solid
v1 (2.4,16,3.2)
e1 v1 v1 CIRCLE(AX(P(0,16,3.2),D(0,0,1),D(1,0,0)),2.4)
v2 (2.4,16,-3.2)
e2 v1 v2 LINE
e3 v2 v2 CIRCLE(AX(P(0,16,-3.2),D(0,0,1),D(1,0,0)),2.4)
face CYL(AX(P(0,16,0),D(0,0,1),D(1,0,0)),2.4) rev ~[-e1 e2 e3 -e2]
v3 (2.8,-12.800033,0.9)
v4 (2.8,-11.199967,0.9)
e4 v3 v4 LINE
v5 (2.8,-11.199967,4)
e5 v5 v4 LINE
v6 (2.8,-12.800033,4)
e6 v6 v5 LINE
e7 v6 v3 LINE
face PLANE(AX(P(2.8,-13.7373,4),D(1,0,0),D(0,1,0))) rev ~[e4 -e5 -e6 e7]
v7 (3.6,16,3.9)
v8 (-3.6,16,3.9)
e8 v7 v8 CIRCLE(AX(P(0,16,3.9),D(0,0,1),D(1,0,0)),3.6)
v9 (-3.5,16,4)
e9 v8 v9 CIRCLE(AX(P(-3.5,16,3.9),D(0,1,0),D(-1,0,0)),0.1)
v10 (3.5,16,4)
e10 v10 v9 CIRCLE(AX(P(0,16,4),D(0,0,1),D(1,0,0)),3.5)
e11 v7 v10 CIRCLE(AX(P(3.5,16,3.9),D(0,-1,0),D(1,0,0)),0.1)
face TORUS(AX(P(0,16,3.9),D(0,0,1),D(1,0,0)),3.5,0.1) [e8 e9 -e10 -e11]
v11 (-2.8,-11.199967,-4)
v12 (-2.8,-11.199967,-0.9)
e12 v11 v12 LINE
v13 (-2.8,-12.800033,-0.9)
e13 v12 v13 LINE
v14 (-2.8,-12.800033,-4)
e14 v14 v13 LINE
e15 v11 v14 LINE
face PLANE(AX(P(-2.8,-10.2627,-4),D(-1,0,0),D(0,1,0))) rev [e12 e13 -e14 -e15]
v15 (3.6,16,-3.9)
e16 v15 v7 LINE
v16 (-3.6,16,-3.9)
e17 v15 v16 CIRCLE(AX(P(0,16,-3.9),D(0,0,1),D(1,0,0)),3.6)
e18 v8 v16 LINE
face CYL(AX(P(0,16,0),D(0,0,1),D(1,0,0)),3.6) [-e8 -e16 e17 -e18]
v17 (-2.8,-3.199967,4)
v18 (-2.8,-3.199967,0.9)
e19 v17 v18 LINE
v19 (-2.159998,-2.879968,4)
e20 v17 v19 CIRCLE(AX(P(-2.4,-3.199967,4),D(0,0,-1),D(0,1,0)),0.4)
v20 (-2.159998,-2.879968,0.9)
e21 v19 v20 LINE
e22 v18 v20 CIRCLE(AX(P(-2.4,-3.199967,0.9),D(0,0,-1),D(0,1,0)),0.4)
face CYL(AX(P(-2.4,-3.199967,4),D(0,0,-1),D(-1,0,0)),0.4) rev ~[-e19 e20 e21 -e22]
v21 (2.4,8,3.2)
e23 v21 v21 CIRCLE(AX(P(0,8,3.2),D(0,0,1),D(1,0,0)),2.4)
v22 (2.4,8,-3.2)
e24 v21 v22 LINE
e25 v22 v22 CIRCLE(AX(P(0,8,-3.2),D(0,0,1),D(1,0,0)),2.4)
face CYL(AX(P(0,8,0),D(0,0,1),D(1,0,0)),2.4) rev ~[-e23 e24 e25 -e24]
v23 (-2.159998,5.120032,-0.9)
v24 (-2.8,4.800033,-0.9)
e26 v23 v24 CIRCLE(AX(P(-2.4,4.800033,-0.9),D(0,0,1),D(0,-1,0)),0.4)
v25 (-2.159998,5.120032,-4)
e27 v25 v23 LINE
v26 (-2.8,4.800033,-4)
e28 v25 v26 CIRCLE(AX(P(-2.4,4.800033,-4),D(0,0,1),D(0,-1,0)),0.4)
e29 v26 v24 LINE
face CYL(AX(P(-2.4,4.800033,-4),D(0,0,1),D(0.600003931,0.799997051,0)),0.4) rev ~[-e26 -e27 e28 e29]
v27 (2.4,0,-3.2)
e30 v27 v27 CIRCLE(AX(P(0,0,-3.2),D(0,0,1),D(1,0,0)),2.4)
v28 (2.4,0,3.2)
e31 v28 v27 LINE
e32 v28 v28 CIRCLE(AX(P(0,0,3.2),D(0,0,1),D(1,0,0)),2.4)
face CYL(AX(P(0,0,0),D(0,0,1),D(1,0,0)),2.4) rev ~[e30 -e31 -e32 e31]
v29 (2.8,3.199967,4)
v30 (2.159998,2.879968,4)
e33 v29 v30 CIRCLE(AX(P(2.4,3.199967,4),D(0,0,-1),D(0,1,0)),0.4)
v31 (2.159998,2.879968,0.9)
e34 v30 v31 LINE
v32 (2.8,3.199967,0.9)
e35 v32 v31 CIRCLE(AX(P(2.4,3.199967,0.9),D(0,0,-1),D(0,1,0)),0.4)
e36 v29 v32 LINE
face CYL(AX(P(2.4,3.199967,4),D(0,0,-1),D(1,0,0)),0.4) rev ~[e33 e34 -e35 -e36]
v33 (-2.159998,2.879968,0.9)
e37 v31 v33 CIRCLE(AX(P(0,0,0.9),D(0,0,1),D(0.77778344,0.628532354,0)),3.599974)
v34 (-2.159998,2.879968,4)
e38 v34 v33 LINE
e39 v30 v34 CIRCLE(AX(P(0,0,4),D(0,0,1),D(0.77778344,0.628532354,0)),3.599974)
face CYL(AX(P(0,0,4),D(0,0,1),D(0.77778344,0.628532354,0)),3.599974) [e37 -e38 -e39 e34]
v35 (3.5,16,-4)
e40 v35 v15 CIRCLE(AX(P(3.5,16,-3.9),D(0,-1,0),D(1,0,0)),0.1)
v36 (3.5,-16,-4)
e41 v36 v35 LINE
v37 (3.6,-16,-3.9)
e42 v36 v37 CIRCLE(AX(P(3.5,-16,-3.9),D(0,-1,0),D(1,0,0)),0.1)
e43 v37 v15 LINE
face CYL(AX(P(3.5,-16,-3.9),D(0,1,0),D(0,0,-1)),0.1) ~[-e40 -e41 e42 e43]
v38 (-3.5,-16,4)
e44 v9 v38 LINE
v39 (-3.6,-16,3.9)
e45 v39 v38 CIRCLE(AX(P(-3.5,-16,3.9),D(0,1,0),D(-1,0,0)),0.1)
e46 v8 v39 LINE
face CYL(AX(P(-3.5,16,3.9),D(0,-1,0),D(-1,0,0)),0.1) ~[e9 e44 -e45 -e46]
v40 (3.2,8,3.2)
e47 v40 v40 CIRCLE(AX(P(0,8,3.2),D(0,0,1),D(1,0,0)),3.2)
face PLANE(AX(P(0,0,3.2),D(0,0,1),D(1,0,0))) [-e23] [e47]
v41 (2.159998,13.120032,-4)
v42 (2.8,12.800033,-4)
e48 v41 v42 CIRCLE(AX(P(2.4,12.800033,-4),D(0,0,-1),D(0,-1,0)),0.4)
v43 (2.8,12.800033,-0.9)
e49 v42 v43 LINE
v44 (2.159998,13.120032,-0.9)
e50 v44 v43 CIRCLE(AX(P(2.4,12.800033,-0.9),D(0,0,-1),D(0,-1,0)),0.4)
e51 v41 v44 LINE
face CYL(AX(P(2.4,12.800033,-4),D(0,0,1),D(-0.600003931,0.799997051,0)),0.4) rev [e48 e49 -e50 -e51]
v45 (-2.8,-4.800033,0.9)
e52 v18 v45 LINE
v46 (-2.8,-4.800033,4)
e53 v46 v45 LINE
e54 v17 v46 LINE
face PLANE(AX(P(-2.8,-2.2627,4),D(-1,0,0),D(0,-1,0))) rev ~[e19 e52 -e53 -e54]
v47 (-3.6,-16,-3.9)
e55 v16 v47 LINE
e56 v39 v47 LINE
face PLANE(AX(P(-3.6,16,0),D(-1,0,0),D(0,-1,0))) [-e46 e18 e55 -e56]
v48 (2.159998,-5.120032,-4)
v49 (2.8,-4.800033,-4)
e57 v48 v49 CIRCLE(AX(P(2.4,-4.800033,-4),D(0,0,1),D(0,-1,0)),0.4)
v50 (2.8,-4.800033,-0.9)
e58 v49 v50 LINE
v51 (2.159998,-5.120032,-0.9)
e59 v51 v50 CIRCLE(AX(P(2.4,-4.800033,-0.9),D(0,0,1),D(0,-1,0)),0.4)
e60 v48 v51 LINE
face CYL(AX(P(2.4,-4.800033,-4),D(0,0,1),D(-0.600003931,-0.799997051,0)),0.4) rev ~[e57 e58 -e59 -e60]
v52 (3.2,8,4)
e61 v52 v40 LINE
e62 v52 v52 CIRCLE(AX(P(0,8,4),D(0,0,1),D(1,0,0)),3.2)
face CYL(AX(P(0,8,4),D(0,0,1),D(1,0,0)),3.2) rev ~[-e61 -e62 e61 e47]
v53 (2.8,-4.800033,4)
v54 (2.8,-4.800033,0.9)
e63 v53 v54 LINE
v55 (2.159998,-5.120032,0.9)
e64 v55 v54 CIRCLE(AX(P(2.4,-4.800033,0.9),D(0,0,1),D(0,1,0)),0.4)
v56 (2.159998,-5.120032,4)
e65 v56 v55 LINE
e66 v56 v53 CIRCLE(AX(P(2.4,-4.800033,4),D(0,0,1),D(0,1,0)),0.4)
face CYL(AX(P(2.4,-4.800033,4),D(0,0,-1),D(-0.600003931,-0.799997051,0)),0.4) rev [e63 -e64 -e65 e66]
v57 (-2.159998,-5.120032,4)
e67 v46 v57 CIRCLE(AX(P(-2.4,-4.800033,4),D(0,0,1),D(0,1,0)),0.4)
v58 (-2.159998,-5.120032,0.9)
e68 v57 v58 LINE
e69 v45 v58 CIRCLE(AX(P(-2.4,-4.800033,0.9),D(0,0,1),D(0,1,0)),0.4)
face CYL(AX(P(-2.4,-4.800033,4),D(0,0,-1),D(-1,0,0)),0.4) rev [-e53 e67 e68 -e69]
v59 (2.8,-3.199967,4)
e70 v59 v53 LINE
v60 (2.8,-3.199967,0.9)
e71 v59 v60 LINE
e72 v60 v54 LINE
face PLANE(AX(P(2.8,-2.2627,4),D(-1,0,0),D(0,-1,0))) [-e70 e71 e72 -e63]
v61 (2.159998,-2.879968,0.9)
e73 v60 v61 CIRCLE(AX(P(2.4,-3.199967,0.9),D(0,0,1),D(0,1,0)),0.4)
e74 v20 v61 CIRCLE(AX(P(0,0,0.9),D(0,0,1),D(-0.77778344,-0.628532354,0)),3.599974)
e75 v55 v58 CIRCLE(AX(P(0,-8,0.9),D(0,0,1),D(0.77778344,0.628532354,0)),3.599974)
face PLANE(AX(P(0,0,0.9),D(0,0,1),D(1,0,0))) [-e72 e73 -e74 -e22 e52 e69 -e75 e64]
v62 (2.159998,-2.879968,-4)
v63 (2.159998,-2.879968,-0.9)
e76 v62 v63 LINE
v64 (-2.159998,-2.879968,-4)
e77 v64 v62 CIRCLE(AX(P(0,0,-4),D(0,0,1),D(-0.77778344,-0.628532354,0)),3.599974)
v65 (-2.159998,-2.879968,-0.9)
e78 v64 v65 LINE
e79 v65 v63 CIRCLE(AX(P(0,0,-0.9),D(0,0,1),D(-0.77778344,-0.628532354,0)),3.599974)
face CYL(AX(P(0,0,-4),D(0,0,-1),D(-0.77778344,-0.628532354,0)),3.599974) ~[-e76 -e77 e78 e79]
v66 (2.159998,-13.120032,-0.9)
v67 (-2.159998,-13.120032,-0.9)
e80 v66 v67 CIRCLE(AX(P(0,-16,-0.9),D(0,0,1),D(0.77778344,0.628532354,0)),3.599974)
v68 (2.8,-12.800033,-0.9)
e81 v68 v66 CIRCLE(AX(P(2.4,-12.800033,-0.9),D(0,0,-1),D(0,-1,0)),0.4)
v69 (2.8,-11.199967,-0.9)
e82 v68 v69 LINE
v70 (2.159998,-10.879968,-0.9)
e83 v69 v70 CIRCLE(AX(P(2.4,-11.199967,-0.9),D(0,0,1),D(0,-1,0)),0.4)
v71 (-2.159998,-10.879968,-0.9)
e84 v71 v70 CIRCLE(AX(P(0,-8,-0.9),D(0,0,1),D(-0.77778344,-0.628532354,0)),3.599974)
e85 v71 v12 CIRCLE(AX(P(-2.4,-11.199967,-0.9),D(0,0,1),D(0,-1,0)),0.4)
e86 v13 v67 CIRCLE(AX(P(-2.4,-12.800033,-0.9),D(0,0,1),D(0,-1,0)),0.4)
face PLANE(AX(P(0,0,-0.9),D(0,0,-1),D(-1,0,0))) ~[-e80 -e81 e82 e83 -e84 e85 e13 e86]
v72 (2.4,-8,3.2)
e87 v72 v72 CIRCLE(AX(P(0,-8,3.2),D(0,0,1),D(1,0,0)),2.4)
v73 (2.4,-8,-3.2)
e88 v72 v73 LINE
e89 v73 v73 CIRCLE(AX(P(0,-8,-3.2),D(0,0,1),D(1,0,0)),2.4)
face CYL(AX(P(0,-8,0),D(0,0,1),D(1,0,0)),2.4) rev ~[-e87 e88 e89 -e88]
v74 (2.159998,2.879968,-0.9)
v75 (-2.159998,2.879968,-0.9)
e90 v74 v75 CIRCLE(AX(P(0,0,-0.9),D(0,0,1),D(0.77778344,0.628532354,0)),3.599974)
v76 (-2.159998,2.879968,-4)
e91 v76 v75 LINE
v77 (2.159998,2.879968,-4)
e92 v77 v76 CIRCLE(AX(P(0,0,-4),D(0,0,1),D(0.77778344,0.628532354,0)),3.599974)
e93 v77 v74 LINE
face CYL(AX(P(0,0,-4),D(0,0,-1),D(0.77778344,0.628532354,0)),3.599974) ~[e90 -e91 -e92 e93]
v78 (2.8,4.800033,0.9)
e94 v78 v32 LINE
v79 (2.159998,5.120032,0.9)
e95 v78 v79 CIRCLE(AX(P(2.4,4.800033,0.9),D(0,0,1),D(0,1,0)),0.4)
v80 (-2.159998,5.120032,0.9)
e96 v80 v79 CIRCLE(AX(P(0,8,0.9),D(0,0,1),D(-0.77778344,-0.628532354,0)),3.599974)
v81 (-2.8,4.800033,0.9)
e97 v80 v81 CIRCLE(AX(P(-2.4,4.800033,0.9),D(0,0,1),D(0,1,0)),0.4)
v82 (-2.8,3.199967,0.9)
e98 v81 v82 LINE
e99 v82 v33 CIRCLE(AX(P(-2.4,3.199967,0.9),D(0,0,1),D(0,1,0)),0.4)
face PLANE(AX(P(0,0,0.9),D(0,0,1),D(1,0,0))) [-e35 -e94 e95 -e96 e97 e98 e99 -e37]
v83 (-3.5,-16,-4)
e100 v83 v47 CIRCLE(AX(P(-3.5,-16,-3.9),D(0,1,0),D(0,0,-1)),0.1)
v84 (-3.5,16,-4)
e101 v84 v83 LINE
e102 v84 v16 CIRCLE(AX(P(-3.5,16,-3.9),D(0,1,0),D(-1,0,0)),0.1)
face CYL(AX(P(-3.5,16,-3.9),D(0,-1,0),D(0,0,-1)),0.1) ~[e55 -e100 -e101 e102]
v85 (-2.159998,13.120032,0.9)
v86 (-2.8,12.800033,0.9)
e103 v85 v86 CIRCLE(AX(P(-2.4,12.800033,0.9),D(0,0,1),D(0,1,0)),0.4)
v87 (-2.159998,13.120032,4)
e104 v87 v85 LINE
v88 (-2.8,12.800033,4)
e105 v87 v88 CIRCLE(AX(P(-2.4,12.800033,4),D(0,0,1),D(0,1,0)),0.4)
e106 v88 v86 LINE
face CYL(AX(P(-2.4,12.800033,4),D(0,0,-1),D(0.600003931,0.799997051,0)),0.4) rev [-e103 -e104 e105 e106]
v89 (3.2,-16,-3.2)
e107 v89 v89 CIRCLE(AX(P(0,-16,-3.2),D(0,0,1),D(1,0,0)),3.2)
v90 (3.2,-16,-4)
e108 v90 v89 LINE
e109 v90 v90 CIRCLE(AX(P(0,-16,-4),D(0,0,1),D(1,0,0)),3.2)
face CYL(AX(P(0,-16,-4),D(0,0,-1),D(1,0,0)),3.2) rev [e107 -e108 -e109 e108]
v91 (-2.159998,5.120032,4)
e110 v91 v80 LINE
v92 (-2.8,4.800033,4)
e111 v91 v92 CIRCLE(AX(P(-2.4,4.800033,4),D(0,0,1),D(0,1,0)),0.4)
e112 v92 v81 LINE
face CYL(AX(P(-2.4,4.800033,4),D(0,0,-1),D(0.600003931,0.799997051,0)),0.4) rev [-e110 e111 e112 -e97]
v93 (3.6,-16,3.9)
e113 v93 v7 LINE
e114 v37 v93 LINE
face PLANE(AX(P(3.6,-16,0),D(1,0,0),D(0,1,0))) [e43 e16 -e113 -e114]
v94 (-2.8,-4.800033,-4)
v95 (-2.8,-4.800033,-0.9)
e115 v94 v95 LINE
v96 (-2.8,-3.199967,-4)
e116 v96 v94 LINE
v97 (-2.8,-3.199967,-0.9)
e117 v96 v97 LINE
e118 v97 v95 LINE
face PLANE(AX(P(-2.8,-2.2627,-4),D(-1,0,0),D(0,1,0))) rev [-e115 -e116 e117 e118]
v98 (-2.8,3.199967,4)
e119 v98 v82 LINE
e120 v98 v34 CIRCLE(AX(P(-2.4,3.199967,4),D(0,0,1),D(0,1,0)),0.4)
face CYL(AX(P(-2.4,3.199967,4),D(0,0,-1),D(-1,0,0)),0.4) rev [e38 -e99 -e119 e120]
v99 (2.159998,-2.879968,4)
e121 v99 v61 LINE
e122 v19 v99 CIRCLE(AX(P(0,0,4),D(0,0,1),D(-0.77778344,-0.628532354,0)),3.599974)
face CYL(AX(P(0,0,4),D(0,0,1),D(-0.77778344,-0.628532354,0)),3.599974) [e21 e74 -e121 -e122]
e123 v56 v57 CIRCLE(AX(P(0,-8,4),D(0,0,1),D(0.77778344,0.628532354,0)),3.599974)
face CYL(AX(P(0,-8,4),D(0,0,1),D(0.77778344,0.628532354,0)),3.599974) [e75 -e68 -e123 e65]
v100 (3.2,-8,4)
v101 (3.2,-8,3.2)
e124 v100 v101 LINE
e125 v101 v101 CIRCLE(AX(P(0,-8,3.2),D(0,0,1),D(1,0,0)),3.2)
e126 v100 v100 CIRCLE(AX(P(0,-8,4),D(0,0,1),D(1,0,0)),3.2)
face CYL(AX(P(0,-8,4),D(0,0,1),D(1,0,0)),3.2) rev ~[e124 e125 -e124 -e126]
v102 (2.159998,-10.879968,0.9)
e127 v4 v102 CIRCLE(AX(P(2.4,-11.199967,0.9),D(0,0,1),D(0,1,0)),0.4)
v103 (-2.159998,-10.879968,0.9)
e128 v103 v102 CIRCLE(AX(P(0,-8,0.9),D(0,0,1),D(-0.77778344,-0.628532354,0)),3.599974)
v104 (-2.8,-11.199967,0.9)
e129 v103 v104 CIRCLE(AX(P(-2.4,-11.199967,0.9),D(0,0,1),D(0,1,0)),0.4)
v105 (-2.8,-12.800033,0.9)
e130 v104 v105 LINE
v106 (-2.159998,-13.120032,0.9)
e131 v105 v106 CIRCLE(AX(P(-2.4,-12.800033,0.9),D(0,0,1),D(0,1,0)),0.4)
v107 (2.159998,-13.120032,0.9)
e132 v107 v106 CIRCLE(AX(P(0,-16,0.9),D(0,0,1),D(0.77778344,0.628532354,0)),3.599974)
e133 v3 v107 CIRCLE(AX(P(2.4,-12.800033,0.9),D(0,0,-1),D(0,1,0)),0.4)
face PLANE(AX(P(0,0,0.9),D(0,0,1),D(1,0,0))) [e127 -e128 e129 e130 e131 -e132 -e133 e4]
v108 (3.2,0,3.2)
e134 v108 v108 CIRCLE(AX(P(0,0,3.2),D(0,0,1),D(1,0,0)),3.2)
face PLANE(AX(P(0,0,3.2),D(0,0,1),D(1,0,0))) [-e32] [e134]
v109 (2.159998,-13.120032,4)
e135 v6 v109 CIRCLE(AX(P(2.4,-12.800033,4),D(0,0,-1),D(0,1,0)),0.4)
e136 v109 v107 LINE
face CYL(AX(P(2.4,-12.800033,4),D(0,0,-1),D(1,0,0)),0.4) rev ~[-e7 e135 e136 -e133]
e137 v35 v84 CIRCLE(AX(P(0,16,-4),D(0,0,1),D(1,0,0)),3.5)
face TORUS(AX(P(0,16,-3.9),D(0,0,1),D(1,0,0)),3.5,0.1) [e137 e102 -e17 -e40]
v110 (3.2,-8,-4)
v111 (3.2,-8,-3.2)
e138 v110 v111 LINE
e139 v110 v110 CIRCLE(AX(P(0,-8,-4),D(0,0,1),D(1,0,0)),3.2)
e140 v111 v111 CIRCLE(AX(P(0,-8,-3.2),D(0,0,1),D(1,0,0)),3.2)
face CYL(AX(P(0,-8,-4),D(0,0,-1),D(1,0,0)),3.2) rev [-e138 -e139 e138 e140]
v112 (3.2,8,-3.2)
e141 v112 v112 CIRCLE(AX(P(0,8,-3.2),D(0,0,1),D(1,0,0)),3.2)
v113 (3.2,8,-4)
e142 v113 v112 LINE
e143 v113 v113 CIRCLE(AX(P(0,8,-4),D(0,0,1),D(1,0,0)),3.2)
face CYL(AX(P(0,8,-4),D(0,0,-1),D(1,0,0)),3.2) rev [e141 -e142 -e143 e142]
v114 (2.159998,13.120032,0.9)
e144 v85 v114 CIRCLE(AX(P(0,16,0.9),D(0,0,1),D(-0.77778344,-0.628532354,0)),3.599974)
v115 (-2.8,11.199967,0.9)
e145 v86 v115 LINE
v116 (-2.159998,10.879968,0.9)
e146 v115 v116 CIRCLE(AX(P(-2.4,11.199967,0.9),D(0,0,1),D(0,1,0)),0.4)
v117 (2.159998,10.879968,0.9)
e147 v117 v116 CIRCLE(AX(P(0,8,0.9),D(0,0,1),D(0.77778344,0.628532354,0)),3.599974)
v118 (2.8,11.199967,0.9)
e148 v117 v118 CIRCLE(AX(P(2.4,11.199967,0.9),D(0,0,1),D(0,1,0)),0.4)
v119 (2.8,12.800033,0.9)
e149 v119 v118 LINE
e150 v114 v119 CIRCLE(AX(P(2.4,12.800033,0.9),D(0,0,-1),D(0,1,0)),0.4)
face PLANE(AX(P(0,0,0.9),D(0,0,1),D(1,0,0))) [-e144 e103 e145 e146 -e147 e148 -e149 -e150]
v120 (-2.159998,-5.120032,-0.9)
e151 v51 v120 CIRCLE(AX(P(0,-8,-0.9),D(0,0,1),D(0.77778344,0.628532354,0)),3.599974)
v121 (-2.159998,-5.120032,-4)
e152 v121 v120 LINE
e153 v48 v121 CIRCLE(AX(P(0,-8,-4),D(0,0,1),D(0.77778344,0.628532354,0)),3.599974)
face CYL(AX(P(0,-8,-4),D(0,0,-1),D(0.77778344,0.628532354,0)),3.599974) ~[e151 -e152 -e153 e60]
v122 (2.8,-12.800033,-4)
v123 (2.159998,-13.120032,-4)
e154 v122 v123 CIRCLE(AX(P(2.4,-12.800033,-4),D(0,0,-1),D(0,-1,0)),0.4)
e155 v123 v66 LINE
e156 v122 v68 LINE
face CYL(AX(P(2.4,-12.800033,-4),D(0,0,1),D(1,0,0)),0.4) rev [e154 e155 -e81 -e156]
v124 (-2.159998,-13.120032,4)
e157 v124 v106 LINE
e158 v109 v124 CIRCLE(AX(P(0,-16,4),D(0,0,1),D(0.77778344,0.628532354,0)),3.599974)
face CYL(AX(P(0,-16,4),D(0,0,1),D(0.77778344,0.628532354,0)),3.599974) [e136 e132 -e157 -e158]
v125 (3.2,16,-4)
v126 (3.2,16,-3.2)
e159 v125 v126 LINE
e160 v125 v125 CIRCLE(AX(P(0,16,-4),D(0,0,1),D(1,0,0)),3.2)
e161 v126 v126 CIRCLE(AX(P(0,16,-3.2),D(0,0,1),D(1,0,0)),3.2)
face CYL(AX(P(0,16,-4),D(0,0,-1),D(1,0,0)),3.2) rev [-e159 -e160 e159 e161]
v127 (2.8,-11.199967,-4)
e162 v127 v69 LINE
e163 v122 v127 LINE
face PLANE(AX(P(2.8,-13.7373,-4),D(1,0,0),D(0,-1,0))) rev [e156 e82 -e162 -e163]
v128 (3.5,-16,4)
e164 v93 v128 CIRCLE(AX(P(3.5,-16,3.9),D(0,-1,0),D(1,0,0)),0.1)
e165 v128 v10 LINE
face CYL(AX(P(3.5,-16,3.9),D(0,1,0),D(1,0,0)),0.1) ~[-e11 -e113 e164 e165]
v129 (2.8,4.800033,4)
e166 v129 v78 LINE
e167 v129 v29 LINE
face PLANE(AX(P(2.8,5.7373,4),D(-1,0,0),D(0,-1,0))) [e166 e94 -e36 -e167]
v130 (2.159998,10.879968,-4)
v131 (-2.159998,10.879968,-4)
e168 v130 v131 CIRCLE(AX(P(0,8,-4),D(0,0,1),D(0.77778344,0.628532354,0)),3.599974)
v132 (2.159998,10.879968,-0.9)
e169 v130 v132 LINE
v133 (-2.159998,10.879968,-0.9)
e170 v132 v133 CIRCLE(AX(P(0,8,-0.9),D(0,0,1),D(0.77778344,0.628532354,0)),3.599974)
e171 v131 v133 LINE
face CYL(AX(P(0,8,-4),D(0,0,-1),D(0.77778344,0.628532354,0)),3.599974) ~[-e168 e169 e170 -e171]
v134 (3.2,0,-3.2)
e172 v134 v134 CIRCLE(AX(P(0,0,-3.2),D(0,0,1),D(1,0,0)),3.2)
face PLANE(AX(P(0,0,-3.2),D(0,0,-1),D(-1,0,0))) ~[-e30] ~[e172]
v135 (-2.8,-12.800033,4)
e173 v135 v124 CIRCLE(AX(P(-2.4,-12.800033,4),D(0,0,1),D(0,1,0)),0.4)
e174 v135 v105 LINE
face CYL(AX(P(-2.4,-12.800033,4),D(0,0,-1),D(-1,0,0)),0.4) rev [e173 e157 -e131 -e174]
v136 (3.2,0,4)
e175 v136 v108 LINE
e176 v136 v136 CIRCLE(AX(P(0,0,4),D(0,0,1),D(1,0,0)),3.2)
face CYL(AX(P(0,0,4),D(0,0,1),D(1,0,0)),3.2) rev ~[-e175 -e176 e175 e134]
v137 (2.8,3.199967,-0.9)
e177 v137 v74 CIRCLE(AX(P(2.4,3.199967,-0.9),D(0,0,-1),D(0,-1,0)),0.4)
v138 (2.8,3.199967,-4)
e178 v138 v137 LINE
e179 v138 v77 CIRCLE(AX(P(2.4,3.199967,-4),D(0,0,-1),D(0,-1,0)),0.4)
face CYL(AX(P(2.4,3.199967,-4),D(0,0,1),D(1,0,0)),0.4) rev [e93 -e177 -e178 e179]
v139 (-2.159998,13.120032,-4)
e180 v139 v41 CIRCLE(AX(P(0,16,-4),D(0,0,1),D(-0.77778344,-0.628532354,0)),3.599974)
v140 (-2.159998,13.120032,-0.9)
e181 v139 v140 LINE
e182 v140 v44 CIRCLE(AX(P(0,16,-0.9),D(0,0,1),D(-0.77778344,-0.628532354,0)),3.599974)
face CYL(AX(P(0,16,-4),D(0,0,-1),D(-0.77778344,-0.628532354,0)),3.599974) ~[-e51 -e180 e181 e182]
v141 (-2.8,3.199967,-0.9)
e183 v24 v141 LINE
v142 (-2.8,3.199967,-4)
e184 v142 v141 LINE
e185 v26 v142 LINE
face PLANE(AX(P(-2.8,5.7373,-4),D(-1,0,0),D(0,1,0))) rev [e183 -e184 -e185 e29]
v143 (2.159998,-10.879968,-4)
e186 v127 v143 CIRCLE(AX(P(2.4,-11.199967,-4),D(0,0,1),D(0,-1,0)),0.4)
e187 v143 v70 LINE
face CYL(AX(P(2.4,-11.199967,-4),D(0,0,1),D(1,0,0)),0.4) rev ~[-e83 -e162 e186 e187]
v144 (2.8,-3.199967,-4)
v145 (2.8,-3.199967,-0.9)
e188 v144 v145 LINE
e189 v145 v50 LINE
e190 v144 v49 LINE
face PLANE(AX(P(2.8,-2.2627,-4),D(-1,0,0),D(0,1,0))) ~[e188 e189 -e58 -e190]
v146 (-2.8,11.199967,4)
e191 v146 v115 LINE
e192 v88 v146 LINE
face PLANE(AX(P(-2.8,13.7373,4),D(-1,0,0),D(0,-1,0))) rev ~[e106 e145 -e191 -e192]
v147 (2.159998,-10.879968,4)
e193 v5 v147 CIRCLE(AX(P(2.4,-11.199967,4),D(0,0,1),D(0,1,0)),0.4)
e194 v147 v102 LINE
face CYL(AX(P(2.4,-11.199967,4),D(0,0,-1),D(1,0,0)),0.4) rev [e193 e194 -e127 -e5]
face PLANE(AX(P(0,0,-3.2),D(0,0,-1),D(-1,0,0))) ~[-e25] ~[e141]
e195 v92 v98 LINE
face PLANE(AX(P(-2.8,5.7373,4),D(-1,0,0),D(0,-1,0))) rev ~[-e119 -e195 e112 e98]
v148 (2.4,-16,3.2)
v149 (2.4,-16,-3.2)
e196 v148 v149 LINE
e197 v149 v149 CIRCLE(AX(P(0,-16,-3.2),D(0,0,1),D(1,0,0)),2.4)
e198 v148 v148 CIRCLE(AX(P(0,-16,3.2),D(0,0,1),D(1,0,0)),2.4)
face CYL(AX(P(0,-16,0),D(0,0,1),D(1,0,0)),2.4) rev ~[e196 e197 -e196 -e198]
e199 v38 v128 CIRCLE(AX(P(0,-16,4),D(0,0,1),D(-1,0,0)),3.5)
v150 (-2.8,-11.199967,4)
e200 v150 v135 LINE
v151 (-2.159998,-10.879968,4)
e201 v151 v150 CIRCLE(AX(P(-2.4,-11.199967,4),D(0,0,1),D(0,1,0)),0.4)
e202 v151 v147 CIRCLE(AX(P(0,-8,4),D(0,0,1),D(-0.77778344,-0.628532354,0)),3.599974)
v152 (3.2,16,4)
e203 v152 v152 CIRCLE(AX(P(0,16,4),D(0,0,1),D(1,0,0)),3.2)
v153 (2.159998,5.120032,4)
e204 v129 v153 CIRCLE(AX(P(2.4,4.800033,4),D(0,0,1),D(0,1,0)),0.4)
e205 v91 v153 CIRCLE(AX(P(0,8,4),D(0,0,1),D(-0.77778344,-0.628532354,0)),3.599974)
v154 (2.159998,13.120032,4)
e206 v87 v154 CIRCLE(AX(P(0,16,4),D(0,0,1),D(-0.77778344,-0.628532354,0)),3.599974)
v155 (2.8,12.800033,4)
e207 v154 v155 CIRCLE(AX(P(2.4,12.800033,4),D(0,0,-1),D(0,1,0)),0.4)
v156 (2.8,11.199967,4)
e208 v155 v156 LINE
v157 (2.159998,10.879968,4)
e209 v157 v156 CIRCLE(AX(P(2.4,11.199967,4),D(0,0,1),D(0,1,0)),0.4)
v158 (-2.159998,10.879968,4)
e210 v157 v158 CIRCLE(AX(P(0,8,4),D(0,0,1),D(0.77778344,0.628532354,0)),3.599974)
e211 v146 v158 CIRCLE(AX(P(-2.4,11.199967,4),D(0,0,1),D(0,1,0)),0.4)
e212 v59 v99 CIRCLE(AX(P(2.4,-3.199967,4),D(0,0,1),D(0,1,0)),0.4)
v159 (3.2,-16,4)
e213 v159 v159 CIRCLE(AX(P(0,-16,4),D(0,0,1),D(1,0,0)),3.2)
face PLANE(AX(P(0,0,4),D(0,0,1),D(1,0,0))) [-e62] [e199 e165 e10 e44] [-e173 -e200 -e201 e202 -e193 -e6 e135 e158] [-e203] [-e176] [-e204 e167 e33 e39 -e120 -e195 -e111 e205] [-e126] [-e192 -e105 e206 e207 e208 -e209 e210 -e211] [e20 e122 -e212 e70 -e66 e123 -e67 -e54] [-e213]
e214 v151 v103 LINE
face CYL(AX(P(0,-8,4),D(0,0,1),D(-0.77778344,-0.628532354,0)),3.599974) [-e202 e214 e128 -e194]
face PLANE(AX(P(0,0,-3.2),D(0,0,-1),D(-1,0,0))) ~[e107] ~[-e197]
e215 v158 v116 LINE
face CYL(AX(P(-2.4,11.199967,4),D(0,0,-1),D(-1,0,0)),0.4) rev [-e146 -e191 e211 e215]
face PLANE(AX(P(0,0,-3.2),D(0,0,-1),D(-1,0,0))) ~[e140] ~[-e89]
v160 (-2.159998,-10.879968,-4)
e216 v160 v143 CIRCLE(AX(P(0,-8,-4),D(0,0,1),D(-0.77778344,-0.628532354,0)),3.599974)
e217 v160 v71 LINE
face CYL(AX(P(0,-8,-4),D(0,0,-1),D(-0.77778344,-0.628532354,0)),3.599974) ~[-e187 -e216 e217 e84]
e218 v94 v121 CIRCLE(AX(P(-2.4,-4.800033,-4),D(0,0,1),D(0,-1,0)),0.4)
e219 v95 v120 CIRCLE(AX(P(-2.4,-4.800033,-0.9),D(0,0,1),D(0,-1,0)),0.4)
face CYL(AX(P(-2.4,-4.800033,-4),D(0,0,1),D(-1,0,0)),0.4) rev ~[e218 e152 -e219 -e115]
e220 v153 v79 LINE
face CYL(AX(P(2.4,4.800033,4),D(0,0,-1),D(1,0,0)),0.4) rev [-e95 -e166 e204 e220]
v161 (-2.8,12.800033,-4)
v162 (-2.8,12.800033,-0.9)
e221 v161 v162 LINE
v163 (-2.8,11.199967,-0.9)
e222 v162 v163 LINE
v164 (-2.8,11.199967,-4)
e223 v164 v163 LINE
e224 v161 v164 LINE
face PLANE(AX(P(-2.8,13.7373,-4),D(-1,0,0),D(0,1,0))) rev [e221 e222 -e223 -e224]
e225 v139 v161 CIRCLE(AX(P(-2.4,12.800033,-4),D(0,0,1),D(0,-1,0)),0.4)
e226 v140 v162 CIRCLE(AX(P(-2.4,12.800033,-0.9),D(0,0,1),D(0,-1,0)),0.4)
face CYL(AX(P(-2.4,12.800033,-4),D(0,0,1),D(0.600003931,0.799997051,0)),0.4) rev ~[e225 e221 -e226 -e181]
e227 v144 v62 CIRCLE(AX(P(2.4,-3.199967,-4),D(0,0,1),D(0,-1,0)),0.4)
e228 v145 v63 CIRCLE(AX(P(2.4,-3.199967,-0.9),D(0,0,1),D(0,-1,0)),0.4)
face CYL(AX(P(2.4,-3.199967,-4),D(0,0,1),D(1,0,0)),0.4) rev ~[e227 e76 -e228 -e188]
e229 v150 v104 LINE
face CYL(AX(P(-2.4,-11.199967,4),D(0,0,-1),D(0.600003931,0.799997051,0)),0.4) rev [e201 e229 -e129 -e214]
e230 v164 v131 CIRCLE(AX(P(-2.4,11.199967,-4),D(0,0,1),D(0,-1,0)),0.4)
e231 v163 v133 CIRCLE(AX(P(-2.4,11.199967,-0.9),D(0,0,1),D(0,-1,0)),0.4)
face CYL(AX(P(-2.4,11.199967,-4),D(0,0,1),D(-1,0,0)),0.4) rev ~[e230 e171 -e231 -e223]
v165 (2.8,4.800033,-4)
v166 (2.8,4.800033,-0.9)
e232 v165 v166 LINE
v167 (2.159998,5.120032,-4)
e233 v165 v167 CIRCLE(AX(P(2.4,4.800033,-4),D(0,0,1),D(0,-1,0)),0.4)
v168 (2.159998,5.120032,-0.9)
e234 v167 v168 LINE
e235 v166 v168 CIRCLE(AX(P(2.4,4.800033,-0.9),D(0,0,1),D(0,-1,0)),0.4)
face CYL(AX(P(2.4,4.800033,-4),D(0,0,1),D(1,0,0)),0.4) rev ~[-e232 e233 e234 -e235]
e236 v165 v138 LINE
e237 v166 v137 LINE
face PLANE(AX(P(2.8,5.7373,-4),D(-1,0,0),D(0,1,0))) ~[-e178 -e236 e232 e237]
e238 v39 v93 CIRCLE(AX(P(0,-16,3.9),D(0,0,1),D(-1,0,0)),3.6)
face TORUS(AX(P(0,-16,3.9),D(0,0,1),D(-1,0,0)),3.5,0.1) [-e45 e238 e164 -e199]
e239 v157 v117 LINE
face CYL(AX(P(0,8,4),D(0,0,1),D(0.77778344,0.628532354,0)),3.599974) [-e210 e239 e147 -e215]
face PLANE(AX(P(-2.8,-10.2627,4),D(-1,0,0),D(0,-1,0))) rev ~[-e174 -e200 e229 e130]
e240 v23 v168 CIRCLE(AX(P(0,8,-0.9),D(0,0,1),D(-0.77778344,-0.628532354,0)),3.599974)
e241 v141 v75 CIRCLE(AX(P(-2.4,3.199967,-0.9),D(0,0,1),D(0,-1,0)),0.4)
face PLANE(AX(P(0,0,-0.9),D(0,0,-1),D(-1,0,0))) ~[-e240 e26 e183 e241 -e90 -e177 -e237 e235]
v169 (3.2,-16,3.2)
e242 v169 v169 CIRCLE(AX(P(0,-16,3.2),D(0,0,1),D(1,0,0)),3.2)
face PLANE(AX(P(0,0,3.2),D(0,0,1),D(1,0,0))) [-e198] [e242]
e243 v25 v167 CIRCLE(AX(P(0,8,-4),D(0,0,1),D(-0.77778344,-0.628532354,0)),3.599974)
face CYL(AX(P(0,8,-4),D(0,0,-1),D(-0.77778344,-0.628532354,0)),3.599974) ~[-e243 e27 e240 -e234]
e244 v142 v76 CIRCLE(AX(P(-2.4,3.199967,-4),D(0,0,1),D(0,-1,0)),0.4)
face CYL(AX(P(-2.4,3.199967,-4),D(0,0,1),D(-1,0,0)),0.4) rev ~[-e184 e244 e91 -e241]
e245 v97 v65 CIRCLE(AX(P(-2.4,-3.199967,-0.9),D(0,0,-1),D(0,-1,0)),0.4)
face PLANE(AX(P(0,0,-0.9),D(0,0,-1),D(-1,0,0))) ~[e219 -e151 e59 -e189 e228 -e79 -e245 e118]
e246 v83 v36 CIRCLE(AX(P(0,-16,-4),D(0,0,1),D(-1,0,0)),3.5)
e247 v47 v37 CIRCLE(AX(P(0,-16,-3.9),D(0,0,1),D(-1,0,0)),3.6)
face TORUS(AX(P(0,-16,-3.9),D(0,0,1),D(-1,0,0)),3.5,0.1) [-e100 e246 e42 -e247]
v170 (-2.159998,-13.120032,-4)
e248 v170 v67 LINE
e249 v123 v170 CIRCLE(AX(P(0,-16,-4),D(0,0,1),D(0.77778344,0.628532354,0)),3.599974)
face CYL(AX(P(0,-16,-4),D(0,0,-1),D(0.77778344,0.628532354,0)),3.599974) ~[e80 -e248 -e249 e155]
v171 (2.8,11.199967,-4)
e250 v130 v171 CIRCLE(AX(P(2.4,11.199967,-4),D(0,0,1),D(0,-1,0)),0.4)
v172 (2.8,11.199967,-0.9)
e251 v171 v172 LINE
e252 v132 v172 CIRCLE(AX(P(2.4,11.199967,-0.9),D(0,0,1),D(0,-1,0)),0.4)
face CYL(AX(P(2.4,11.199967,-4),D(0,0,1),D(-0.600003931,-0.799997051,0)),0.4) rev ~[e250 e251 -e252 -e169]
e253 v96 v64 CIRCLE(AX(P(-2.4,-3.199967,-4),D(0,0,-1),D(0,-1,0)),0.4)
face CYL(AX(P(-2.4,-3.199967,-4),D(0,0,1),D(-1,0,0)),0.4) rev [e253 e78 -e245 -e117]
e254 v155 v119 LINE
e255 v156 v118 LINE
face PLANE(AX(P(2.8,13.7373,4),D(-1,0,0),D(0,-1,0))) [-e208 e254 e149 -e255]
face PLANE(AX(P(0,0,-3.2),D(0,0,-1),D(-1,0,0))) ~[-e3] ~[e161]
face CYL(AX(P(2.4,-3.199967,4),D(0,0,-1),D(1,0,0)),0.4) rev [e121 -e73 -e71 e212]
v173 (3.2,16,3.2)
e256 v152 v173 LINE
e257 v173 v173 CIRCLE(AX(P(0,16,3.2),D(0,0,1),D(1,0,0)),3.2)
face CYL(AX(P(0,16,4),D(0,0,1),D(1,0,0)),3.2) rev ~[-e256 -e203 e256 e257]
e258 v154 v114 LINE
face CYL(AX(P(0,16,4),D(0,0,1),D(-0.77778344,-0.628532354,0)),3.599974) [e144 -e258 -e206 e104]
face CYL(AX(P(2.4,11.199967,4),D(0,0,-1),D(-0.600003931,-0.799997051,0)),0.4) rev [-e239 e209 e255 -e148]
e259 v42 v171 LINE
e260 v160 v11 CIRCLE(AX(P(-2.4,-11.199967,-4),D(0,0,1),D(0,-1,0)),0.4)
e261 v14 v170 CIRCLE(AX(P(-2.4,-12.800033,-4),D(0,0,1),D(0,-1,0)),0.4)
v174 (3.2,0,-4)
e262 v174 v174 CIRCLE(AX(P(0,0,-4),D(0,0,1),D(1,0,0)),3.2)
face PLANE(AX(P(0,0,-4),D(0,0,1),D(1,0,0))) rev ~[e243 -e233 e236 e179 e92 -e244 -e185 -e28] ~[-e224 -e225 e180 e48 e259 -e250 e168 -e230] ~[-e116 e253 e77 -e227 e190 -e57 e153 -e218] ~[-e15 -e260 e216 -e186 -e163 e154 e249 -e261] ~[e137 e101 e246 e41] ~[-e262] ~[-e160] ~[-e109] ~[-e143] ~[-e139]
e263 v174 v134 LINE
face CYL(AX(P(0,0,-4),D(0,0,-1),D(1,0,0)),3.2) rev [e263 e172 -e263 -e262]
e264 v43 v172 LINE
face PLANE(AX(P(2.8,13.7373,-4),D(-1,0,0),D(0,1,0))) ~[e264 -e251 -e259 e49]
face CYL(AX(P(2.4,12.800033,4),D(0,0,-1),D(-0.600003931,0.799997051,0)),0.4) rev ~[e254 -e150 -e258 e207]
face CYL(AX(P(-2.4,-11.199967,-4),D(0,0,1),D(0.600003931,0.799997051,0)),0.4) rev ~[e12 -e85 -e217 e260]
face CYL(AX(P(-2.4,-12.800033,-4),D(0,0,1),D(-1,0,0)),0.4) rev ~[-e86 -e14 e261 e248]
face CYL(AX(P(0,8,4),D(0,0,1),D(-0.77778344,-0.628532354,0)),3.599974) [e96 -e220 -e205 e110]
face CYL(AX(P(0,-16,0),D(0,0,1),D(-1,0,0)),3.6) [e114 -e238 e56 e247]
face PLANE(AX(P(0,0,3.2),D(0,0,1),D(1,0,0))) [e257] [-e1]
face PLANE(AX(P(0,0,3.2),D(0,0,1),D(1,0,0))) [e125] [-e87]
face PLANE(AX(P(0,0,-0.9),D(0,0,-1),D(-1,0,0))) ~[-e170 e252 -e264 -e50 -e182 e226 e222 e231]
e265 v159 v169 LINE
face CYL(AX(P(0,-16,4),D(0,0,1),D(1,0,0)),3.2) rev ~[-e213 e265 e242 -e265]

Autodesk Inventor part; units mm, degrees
ref_plane "YZ Plane" through (0, 0, 0) normal (1, 0, 0) x (0, 1, 0)
ref_plane "XZ Plane" through (0, 0, 0) normal (0, 1, 0) x (-1, 0, 0)
ref_plane "XY Plane" through (0, 0, 0) normal (0, 0, 1) x (1, 0, 0)
sketch "Sketch1" plane through (0, 0, 0) normal (0, 0, 1) x (1, 0, 0)
  line L0 (3.6, -16) -> (3.6, 16)
  line L1 (-3.6, 16) -> (-3.6, -16)
  arc A0 (3.6, 16) -> (-3.6, 16) centre (0, 16) ccw
  circle A1 centre (0, 8) radius 2.4
  circle A2 centre (0, 8) radius 3.2
  circle A3 centre (0, 0) radius 3.2
  circle A4 centre (0, 0) radius 2.4
  line L2 (0, 0) -> (0, 8) construction
  line L3 (-2.8, 5.7373) -> (-2.8, 2.2627)
  line L4 (2.8, 5.7373) -> (2.8, 2.2627)
  arc A5 (-2.8, 5.7373) -> (2.8, 5.7373) centre (0, 8) ccw
  arc A6 (2.8, 2.2627) -> (-2.8, 2.2627) centre (0, 0) ccw
  arc A7 (-3.6, -16) -> (3.6, -16) centre (0, -16) ccw
  circle A8 centre (0, -8) radius 3.2
  circle A9 centre (0, -8) radius 2.4
  line L5 (0, 0) -> (0, -8) construction
  line L6 (-2.8, -2.2627) -> (-2.8, -5.7373)
  line L7 (2.8, -2.2627) -> (2.8, -5.7373)
  arc A10 (-2.8, -2.2627) -> (2.8, -2.2627) centre (0, 0) ccw
  arc A11 (2.8, -5.7373) -> (-2.8, -5.7373) centre (0, -8) ccw
  circle A12 centre (0, 16) radius 3.2
  circle A13 centre (0, 16) radius 2.4
  circle A14 centre (0, -16) radius 3.2
  circle A15 centre (0, -16) radius 2.4
  line L8 (0, 16) -> (0, 8) construction
  line L9 (0, -8) -> (0, -16) construction
  line L10 (2.8, 13.7373) -> (2.8, 10.2627)
  line L11 (-2.8, 13.7373) -> (-2.8, 10.2627)
  arc A16 (-2.8, 13.7373) -> (2.8, 13.7373) centre (0, 16) ccw
  arc A17 (2.8, 10.2627) -> (-2.8, 10.2627) centre (0, 8) ccw
  arc A18 (-2.8, -10.2627) -> (2.8, -10.2627) centre (0, -8) ccw
  arc A19 (2.8, -13.7373) -> (-2.8, -13.7373) centre (0, -16) ccw
  line L12 (2.8, -13.7373) -> (2.8, -10.2627)
  line L13 (-2.8, -10.2627) -> (-2.8, -13.7373)
  dimension "d8" = 4.8
  dimension "d9" = 6.4
  dimension "d32" = 7.2
  dimension "d34" = 8
  dimension "d36" = 0.8
extrude "Extrusion1" add sketch "Sketch1" along normal mid plane 8 contours A7 L1 A0 L0 | A2 | A3 | A5 L4 A6 L3 | A8 | A10 L7 A11 L6 | A12 | A14 | L10 A17 L11 A16 | A18 L12 A19 L13
sketch "Sketch6" plane through (0, 0, 4) normal (0, 0, 1) x (1, 0, 0)
  circle A0 centre (0, 0) radius 2.4 projected
  circle A1 centre (0, 8) radius 2.4 projected
  circle A2 centre (0, 0) radius 3.2 projected
  circle A3 centre (0, 8) radius 3.2 projected
  arc A4 (2.8, 2.2627) -> (-2.8, 2.2627) centre (0, 0) ccw projected
  line L0 (-2.8, 5.7373) -> (-2.8, 2.2627) projected
  arc A5 (-2.8, 5.7373) -> (2.8, 5.7373) centre (0, 8) ccw projected
  line L1 (2.8, 5.7373) -> (2.8, 2.2627) projected
  line L2 (-2.8, -2.2627) -> (-2.8, -5.7373) projected
  arc A6 (-2.8, -2.2627) -> (2.8, -2.2627) centre (0, 0) ccw projected
  arc A7 (2.8, -5.7373) -> (-2.8, -5.7373) centre (0, -8) ccw projected
  line L3 (2.8, -2.2627) -> (2.8, -5.7373) projected
  circle A8 centre (0, -8) radius 3.2 projected
  circle A9 centre (0, -8) radius 2.4 projected
  circle A10 centre (0, -16) radius 2.4 projected
  circle A11 centre (0, 16) radius 2.4 projected
  line L4 (2.8, -13.7373) -> (2.8, -10.2627) projected
  arc A12 (2.8, -13.7373) -> (-2.8, -13.7373) centre (0, -16) ccw projected
  arc A13 (-2.8, -10.2627) -> (2.8, -10.2627) centre (0, -8) ccw projected
  line L5 (-2.8, -10.2627) -> (-2.8, -13.7373) projected
  circle A14 centre (0, -16) radius 3.2 projected
  circle A15 centre (0, 16) radius 3.2 projected
  line L6 (2.8, 13.7373) -> (2.8, 10.2627) projected
  arc A16 (-2.8, 13.7373) -> (2.8, 13.7373) centre (0, 16) ccw projected
  arc A17 (2.8, 10.2627) -> (-2.8, 10.2627) centre (0, 8) ccw projected
  line L7 (-2.8, 13.7373) -> (-2.8, 10.2627) projected
extrude "Extrusion7" cut sketch "Sketch6" against normal blind 0.8 contours A2 | A3 | A8 | A14 | A15
extrude "Extrusion8" cut sketch "Sketch6" against normal blind 3.1 contours A4 L0 A5 L1 | A6 L3 A7 L2 | A12 L5 A13 L4 | L6 A17 L7 A16
mirror "Mirror1" about plane through (0, 0, 0) normal (0, 0, 1) of "Extrusion7", "Extrusion8"
fillet "Fillet1" radius 0.4 32 edges at (-2.8, 2.2627, 2.45) (-2.8, 5.7373, 2.45) (2.8, 2.2627, 2.45) (2.8, 5.7373, 2.45) (2.8, 5.7373, -2.45) (2.8, 2.2627, -2.45) (-2.8, 2.2627, -2.45) (-2.8, 5.7373, -2.45) (-2.8, -2.2627, 2.45) (-2.8, -5.7373, 2.45) (2.8, -5.7373, 2.45) (2.8, -2.2627, 2.45) (2.8, -2.2627, -2.45) (2.8, -5.7373, -2.45) (-2.8, -5.7373, -2.45) (-2.8, -2.2627, -2.45) (-2.8, -13.7373, 2.45) (-2.8, -13.7373, -2.45) (-2.8, -10.2627, 2.45) (-2.8, -10.2627, -2.45) (2.8, -13.7373, 2.45) (2.8, -10.2627, 2.45) (2.8, -13.7373, -2.45) (2.8, -10.2627, -2.45) (-2.8, 10.2627, 2.45) (-2.8, 13.7373, 2.45) (-2.8, 10.2627, -2.45) (-2.8, 13.7373, -2.45) (2.8, 10.2627, 2.45) (2.8, 13.7373, 2.45) (2.8, 10.2627, -2.45) (2.8, 13.7373, -2.45)
fillet "Fillet1" radius 0.1 8 edges at (0, -19.6, 4) (-3.6, 0, 4) (0, 19.6, 4) (3.6, 0, 4) (0, 19.6, -4) (-3.6, 0, -4) (0, -19.6, -4) (3.6, 0, -4)
equation "\"lf\" = 0.1"
equation "\"tf\" = 0.4"
properties part number "32316-DkBluishGray" material "ABS Plastic"
